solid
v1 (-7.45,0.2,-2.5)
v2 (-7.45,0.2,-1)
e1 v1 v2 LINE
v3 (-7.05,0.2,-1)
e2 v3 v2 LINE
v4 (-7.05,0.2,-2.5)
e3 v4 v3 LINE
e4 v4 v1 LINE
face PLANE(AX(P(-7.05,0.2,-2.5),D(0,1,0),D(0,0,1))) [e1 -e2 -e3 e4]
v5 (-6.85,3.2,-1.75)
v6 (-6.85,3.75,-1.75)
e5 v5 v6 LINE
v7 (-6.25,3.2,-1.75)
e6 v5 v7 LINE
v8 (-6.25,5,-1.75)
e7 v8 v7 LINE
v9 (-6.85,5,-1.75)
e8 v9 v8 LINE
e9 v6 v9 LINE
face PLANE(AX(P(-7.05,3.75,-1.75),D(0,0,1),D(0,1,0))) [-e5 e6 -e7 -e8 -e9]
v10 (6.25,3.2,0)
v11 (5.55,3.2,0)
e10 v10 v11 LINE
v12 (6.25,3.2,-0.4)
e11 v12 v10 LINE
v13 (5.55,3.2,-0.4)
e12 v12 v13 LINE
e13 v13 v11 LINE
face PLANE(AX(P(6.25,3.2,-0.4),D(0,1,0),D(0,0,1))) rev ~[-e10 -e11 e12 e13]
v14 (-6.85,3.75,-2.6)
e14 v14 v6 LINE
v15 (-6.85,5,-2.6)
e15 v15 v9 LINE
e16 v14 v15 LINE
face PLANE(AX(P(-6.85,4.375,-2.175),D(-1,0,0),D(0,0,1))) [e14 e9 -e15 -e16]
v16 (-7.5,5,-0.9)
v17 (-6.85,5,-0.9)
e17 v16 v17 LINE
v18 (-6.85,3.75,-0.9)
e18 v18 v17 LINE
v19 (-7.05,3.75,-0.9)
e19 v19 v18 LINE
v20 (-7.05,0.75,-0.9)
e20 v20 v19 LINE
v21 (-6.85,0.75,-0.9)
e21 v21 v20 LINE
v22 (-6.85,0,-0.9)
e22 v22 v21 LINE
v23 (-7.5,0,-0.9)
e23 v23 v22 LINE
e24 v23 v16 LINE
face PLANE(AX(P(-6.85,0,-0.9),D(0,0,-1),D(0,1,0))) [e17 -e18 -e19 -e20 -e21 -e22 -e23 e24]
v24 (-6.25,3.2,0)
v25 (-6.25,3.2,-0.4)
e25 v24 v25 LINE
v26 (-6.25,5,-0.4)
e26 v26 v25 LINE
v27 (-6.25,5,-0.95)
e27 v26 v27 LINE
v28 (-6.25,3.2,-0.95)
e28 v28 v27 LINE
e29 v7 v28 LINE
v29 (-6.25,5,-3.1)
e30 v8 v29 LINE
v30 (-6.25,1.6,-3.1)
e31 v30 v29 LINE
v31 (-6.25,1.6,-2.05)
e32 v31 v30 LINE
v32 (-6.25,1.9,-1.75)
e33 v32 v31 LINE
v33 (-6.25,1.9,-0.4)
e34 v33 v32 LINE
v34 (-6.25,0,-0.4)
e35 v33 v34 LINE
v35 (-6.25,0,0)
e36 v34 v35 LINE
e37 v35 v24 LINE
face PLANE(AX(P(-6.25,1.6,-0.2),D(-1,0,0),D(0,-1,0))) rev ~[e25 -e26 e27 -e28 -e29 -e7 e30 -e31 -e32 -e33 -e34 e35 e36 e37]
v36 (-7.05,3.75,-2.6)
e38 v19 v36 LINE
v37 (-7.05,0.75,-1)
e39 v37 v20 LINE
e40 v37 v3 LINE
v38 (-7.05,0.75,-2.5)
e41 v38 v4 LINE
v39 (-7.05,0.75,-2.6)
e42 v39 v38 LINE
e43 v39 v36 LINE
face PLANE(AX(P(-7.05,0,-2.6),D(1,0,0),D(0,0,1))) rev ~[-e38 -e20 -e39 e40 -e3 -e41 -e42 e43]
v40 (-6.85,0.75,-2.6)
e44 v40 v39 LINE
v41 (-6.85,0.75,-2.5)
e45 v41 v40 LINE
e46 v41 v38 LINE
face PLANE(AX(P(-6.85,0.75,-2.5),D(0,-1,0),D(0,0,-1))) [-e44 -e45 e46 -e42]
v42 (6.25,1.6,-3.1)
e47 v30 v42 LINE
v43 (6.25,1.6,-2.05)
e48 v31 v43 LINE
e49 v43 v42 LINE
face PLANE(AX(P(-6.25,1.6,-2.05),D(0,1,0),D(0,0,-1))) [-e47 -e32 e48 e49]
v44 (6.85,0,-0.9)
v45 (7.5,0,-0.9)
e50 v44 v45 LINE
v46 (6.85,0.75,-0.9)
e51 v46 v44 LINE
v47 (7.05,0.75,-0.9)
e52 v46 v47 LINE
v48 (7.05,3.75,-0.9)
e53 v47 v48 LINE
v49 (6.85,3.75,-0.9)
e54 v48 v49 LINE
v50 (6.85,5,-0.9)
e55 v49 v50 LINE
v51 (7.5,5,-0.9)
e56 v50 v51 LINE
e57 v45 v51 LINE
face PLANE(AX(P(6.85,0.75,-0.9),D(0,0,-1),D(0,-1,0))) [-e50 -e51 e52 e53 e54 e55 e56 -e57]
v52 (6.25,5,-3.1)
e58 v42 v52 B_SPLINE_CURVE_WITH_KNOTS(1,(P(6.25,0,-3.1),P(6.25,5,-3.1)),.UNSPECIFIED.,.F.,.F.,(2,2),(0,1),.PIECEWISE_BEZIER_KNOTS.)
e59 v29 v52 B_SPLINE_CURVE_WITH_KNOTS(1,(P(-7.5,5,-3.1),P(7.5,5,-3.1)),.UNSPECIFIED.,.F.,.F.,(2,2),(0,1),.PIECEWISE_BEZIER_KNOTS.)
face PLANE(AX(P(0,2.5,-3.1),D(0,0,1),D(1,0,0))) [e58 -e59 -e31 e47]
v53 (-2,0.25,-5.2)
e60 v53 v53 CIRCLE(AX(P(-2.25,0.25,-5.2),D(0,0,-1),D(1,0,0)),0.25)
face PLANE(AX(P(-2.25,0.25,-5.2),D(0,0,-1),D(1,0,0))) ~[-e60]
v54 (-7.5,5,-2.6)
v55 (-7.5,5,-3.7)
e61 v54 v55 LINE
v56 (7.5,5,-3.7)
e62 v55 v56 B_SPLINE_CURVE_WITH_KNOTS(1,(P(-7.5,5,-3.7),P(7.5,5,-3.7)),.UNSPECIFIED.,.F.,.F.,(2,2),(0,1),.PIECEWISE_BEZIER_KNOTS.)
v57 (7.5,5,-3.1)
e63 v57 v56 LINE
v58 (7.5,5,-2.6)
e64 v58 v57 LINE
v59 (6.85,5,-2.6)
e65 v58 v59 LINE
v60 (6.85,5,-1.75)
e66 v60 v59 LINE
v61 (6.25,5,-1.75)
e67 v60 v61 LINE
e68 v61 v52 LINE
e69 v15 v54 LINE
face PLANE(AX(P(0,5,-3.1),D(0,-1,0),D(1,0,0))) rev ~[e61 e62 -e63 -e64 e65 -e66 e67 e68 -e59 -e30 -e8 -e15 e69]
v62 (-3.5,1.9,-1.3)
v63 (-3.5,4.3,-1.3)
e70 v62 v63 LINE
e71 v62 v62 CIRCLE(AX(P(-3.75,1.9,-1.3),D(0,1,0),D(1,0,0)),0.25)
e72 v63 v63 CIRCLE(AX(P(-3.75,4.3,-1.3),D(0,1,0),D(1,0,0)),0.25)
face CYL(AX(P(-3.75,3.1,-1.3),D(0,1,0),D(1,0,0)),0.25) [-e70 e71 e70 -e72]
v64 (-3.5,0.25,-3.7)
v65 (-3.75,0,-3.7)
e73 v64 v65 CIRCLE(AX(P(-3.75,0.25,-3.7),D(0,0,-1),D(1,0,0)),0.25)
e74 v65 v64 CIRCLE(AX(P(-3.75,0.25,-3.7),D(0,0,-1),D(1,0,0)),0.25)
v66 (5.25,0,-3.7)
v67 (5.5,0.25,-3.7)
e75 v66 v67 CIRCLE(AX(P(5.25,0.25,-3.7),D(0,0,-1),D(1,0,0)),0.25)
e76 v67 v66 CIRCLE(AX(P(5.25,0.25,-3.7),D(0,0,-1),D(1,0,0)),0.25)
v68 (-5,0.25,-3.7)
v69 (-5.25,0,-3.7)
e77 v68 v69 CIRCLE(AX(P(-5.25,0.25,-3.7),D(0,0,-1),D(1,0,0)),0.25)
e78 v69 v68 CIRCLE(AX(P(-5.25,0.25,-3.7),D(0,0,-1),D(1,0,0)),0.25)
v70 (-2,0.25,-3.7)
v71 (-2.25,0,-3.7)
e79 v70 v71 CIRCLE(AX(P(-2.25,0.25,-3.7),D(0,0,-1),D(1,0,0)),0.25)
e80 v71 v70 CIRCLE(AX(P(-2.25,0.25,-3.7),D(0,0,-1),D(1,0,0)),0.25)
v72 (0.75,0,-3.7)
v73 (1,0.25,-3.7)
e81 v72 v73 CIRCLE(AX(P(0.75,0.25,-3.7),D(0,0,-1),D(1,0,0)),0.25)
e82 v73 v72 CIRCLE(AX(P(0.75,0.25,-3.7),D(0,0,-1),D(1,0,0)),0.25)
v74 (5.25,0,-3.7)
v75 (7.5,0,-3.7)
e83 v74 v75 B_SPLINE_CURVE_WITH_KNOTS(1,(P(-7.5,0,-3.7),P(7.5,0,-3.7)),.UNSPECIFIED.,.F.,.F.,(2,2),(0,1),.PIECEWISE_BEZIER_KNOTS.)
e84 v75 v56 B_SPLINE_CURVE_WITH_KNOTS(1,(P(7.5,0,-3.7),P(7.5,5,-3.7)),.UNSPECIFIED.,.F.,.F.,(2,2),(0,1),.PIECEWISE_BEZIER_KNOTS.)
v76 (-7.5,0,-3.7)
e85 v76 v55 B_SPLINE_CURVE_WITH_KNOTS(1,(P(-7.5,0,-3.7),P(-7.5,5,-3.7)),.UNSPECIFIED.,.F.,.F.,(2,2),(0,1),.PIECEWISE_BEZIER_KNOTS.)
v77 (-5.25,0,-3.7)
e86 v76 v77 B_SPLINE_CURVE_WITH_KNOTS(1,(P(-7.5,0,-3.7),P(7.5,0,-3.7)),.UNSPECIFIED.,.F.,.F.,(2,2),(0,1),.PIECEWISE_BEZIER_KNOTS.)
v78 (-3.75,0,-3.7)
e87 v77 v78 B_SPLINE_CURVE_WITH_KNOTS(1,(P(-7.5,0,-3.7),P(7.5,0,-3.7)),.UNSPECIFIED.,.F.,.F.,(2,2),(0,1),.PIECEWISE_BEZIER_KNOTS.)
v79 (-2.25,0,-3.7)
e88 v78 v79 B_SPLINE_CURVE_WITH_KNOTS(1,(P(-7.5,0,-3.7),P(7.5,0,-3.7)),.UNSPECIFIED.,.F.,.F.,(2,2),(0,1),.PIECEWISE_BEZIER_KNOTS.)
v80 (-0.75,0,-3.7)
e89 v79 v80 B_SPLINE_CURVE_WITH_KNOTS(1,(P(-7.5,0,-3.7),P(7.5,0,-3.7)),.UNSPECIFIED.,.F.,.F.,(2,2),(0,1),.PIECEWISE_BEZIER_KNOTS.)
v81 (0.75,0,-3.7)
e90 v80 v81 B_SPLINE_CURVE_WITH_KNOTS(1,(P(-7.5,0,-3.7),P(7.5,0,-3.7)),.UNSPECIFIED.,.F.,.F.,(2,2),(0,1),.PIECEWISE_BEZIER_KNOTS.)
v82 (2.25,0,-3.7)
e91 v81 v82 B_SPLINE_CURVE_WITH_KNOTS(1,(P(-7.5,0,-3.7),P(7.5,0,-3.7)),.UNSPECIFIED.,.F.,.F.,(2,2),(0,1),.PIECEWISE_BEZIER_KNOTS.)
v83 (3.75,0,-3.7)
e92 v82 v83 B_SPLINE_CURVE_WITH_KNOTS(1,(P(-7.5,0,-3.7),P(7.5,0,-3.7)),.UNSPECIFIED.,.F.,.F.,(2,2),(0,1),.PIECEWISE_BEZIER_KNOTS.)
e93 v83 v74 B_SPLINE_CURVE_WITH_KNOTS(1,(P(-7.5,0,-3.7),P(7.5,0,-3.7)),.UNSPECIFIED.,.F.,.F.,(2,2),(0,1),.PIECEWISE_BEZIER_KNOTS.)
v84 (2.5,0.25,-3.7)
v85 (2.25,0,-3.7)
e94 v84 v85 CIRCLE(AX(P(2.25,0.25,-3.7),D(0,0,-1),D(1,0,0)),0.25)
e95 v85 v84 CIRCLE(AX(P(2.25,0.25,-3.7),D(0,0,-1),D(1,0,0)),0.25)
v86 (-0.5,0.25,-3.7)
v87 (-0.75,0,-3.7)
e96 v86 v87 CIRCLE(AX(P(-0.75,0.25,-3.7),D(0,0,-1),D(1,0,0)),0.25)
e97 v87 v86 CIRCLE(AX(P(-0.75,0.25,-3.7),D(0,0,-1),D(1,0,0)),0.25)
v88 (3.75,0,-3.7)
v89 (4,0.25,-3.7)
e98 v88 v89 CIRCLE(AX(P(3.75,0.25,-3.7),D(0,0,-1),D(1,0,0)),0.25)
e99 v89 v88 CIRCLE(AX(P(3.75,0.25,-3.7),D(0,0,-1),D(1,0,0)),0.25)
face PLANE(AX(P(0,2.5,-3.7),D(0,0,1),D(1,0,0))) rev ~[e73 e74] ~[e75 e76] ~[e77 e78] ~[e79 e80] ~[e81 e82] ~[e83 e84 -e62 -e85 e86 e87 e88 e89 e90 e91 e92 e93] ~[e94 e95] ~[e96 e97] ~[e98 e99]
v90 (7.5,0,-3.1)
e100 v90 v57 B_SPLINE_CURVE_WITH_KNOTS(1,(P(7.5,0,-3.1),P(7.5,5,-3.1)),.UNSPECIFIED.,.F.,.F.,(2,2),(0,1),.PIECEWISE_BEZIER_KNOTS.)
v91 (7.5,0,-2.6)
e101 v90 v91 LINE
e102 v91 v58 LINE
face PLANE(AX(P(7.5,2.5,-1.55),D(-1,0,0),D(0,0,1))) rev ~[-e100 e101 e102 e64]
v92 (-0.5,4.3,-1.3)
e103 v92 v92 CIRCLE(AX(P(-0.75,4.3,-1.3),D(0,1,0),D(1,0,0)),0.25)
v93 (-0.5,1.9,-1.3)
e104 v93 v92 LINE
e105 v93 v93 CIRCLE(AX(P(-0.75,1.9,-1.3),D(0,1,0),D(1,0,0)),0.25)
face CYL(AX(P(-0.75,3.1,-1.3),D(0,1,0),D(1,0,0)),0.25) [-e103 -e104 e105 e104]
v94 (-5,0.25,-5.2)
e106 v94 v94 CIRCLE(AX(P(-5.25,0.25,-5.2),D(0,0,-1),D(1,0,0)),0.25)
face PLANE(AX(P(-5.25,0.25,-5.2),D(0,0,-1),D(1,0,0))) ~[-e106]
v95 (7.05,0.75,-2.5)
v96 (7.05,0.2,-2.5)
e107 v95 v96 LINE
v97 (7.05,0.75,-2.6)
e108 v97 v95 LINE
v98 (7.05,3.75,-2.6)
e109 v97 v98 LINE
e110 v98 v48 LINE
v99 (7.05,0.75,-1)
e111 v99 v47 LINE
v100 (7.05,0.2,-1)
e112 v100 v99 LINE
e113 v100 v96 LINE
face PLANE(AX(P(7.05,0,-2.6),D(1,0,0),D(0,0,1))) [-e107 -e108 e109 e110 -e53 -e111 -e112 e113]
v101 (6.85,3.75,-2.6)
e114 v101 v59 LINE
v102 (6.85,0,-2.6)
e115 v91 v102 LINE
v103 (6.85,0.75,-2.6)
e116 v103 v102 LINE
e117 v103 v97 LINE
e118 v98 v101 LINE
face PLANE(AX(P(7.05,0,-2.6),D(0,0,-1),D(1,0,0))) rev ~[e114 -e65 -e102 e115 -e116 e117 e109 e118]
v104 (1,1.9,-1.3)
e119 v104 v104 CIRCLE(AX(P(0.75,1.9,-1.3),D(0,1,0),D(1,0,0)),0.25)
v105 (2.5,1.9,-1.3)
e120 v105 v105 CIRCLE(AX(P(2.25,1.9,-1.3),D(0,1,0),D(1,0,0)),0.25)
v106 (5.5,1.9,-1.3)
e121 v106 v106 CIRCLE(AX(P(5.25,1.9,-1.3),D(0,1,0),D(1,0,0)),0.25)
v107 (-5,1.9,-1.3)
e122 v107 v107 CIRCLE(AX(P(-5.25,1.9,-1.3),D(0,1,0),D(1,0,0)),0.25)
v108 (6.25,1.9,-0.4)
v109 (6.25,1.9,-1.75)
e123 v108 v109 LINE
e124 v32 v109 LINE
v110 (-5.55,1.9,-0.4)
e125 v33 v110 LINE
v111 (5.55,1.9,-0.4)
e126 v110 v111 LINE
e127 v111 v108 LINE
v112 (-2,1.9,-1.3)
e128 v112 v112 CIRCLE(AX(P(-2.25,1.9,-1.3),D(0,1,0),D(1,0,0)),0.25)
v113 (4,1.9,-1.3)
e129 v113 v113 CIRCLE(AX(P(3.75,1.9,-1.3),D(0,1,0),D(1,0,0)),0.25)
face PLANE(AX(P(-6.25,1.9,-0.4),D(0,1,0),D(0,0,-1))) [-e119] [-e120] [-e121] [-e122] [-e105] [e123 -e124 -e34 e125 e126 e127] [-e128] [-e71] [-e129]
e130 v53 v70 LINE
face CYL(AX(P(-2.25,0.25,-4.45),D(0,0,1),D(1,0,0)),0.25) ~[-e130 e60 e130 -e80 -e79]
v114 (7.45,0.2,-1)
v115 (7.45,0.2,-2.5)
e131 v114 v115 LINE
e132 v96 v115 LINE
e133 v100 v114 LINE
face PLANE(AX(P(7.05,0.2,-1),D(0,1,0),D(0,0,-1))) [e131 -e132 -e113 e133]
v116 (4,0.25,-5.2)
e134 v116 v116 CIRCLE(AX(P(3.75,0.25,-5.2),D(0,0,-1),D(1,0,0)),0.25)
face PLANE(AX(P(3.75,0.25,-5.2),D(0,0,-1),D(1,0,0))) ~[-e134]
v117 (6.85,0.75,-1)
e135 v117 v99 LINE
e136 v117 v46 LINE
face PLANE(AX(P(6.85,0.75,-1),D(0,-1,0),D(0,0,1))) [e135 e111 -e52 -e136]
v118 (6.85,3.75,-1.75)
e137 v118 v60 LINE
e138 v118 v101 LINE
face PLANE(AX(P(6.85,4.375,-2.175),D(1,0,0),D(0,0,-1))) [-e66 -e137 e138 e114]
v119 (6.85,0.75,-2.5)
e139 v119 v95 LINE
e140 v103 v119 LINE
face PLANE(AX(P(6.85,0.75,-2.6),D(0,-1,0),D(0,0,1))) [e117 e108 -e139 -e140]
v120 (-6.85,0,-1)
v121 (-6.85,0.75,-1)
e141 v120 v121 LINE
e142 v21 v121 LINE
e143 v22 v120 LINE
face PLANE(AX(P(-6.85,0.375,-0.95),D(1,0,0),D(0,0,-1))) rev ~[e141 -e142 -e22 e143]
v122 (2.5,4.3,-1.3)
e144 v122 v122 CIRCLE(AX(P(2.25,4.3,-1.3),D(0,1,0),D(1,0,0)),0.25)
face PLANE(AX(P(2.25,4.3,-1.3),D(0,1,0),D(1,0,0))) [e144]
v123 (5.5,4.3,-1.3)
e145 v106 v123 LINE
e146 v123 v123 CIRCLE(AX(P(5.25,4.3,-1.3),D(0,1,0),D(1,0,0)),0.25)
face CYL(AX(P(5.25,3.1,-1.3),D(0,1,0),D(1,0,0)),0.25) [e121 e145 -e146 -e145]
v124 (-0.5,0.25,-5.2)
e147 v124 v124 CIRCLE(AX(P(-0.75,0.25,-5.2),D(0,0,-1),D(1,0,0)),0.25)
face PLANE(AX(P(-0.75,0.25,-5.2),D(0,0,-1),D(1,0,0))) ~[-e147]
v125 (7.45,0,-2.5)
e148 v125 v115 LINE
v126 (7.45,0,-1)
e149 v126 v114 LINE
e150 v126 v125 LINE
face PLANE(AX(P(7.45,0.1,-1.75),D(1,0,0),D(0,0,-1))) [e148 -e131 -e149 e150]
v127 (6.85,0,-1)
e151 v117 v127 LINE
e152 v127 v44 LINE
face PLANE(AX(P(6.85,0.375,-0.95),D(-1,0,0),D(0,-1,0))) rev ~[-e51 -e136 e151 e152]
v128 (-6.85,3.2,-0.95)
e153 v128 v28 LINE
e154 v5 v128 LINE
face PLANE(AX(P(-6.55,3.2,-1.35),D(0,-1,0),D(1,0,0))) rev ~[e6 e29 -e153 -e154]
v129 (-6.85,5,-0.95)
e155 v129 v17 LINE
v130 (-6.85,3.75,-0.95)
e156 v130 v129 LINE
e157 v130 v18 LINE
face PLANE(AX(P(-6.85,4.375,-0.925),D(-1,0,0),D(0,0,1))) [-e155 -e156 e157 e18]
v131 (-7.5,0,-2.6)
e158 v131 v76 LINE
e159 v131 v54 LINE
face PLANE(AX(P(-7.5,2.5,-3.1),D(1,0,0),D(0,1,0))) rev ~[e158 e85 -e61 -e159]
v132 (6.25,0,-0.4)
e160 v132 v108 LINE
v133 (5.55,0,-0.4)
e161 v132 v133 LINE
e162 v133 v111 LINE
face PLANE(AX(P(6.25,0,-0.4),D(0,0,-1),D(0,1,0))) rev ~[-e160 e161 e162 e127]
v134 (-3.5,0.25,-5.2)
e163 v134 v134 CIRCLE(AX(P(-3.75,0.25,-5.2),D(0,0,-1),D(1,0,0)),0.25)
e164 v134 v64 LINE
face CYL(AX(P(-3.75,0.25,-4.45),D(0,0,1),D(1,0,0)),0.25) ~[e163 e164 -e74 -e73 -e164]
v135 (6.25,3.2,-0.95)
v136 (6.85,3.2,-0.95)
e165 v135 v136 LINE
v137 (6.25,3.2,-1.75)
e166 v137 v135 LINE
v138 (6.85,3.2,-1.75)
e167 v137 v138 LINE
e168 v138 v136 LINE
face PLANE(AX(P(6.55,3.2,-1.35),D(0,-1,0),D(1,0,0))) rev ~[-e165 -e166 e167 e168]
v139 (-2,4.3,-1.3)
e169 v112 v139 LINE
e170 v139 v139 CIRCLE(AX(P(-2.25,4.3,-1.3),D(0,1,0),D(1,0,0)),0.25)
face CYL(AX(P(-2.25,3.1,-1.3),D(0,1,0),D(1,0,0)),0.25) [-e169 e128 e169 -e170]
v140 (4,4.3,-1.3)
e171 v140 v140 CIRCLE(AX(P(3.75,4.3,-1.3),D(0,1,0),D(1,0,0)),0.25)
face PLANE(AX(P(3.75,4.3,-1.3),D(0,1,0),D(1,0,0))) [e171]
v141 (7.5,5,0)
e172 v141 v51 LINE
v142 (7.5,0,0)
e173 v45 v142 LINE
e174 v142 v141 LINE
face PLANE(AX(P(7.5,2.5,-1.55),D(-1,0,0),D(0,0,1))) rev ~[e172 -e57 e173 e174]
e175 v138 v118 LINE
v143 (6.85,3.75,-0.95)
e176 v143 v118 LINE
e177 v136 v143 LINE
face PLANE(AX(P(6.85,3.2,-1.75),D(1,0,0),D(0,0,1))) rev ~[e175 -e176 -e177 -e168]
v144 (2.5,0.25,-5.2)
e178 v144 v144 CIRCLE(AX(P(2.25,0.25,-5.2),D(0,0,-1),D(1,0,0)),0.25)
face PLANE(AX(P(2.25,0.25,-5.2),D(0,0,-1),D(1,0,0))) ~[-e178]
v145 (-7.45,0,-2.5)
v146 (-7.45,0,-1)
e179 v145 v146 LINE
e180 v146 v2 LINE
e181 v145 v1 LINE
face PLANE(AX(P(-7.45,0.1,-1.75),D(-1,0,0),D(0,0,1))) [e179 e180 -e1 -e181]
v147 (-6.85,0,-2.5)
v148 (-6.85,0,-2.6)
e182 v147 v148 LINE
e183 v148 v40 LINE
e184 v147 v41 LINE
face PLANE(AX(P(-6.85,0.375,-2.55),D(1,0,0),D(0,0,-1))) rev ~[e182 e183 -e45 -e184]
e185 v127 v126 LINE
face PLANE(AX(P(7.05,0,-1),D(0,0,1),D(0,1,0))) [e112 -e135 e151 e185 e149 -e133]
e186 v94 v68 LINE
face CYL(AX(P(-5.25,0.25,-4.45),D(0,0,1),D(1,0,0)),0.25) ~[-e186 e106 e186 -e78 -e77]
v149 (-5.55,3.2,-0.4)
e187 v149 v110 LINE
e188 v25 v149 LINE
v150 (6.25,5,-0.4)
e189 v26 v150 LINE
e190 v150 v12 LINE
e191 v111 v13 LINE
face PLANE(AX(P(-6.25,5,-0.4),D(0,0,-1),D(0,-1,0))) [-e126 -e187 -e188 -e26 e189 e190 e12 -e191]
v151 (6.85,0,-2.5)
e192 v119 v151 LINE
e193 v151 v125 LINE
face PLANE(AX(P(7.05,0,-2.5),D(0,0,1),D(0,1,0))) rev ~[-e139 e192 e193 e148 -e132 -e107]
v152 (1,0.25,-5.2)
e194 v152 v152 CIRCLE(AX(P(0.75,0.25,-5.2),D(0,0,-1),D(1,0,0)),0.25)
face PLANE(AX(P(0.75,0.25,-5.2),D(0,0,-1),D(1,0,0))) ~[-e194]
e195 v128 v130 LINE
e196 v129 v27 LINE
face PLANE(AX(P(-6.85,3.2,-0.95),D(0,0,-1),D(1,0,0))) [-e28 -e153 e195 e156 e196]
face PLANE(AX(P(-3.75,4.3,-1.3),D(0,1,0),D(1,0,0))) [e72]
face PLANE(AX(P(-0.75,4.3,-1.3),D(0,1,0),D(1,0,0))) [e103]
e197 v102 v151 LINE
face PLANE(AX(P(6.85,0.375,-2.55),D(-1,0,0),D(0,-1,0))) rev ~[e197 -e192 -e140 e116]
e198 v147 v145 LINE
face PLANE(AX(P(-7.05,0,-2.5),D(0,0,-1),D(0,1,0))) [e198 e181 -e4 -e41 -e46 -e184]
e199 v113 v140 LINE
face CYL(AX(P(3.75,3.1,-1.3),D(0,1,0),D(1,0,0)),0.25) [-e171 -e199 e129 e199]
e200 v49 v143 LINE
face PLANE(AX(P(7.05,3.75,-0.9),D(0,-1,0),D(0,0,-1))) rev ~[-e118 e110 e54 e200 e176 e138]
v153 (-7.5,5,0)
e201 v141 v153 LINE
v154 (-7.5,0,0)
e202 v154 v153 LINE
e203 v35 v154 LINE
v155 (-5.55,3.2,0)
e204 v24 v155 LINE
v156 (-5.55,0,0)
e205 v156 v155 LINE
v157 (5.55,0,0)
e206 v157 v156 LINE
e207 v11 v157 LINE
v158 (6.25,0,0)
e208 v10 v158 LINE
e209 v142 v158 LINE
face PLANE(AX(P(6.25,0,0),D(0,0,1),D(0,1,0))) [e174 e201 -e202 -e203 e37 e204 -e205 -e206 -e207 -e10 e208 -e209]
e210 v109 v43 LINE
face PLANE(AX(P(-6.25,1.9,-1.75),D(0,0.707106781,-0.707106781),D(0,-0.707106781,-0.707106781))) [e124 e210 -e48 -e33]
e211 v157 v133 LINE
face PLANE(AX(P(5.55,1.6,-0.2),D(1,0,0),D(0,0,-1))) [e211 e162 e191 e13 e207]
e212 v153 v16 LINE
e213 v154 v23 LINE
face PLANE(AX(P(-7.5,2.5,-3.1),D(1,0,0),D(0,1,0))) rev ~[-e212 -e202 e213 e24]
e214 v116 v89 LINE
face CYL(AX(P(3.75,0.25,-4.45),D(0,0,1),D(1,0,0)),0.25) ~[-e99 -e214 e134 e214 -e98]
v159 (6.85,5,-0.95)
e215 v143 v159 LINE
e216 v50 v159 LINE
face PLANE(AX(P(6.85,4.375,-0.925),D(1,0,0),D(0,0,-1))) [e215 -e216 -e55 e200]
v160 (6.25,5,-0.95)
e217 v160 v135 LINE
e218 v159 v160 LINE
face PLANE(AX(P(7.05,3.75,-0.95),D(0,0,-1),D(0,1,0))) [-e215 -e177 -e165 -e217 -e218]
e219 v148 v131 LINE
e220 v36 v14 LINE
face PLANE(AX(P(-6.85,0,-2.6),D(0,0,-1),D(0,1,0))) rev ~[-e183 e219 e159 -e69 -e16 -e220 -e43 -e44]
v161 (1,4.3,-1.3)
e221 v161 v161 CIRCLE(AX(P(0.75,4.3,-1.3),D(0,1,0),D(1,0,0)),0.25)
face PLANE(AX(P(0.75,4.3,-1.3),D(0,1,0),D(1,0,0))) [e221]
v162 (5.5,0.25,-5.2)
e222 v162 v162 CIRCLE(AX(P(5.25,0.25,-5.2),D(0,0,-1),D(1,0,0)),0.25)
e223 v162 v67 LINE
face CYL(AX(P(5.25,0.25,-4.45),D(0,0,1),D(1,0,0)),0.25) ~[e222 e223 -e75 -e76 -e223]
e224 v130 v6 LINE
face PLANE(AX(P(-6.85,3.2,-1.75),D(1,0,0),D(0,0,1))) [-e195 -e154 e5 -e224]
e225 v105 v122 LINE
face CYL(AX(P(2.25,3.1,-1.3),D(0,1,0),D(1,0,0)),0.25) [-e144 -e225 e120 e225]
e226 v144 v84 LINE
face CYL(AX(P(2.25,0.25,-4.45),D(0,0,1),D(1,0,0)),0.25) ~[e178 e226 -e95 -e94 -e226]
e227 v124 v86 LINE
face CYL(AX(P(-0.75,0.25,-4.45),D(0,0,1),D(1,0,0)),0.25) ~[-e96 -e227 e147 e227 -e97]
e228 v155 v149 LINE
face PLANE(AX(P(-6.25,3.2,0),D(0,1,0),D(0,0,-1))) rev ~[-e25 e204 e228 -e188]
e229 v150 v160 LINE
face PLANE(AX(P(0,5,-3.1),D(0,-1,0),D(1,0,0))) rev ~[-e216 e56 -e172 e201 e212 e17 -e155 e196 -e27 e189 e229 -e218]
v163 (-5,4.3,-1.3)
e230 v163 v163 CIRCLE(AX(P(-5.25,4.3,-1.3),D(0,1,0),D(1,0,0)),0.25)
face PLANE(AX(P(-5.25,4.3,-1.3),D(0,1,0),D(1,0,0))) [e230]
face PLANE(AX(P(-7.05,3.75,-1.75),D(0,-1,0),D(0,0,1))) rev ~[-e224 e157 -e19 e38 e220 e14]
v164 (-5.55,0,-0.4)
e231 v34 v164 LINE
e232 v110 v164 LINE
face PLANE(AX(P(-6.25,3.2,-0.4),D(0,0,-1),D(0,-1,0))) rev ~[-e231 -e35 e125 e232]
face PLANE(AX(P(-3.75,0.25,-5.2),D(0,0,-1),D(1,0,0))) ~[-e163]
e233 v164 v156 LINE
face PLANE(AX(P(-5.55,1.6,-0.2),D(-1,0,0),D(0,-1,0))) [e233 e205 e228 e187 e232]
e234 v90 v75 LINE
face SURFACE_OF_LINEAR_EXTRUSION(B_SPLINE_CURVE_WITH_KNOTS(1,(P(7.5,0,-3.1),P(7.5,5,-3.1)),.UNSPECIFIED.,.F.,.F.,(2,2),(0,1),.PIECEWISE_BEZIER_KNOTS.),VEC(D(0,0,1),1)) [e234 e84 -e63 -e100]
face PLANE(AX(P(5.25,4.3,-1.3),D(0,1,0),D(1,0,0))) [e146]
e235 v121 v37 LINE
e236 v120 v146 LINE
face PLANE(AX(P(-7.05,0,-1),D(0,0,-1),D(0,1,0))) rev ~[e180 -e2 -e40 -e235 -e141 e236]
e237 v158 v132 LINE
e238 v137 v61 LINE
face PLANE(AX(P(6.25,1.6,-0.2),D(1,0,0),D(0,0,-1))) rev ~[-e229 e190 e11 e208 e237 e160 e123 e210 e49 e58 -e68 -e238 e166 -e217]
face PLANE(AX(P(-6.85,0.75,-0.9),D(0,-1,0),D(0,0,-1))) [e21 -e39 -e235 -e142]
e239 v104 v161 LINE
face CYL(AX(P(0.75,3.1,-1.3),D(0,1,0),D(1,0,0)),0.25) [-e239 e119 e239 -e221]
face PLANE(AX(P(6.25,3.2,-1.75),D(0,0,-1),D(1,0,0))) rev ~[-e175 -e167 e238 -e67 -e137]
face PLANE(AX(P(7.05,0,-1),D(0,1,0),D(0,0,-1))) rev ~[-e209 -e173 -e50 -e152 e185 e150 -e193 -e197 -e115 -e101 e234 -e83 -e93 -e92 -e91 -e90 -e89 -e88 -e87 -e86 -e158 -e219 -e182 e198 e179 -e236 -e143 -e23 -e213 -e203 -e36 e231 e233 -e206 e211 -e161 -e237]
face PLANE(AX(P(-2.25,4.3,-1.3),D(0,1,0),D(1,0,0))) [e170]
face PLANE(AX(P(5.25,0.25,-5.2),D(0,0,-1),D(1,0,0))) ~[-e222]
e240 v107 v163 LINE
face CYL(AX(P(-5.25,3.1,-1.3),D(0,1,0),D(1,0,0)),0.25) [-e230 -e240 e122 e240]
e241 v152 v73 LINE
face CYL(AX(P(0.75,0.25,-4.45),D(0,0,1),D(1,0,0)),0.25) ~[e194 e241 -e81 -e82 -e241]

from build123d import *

# Parameters (mm, degrees)
SKETCH1_W           = 1.25
SKETCH1_H           = 5
BOSS_EXTRUDE1_DEPTH = 3.1
BOSS_EXTRUDE2_DEPTH = 12.5
BOSS_EXTRUDE3_DEPTH = 1.250000167
CUT_EXTRUDE1_DEPTH  = 0.7
CUT_EXTRUDE2_DEPTH  = 0.7
BOSS_EXTRUDE4_DEPTH = 0.6
SKETCH7_W           = 0.45
SKETCH7_H           = 1.7
CUT_EXTRUDE3_DEPTH  = 6.0000001
CUT_EXTRUDE4_REACH  = 16.55
SKETCH8_W           = 0.8
SKETCH8_H           = 1.25
SKETCH9_W           = 0.85
SKETCH9_H           = 1.25
CUT_EXTRUDE5_DEPTH  = 0.2
SKETCH10_W          = 0.05
SKETCH10_H          = 1.25
CUT_EXTRUDE6_DEPTH  = 0.2
CUT_EXTRUDE7_REACH  = 3.8
SKETCH12_W          = 0.6
SKETCH12_H          = 0.8
SKETCH13_W          = 0.45
SKETCH13_H          = 1.7
CUT_EXTRUDE8_DEPTH  = 6.0000001
SKETCH14_W          = 0.8
SKETCH14_H          = 1.25
CUT_EXTRUDE9_DEPTH  = 15.5500001
SKETCH15_W          = 0.85
SKETCH15_H          = 1.25
CUT_EXTRUDE10_DEPTH = 0.2
CUT_EXTRUDE11_REACH = 2.65
SKETCH17_W          = 0.1
SKETCH17_H          = 0.75
SKETCH18_W          = 1.5
SKETCH18_H          = 0.2
BOSS_EXTRUDE5_DEPTH = 0.4
CUT_EXTRUDE12_REACH = 2.65
SKETCH20_W          = 0.1
SKETCH20_H          = 0.75
CUT_EXTRUDE13_REACH = 2.65
SKETCH22_W          = 0.75
SKETCH22_H          = 0.1
SKETCH23_W          = 1.5
SKETCH23_H          = 0.2
BOSS_EXTRUDE6_DEPTH = 0.4
CUT_EXTRUDE14_REACH = 2.65
SKETCH25_W          = 0.75
SKETCH25_H          = 0.1
SKETCH26_W          = 0.05
SKETCH26_H          = 1.25
CUT_EXTRUDE15_DEPTH = 0.2
CUT_EXTRUDE16_REACH = 3.8
SKETCH28_W          = 0.6
SKETCH28_H          = 0.8
SKETCH29_W          = 0.25
SKETCH29_H          = 2.4
SKETCH30_W          = 0.25
SKETCH30_H          = 2.4
SKETCH31_W          = 0.25
SKETCH31_H          = 2.4
SKETCH32_W          = 0.25
SKETCH32_H          = 2.4
SKETCH33_W          = 0.25
SKETCH33_H          = 2.4
SKETCH34_W          = 0.25
SKETCH34_H          = 2.4
SKETCH35_W          = 0.25
SKETCH35_H          = 2.4
SKETCH36_W          = 0.25
SKETCH36_H          = 2.4
SKETCH37_W          = 0.25
SKETCH37_H          = 1.5
SKETCH38_W          = 0.25
SKETCH38_H          = 1.5
SKETCH39_W          = 0.25
SKETCH39_H          = 1.5
SKETCH40_W          = 0.25
SKETCH40_H          = 1.5
SKETCH41_W          = 0.25
SKETCH41_H          = 1.5
SKETCH42_W          = 0.25
SKETCH42_H          = 1.5
SKETCH43_W          = 0.25
SKETCH43_H          = 1.5
SKETCH44_W          = 0.25
SKETCH44_H          = 1.5


with BuildPart() as part:
    # Sketch1 → Boss-Extrude1 (new body)
    with BuildSketch(Plane.XY):
        with Locations((-6.875, 2.5)):
            Rectangle(SKETCH1_W, SKETCH1_H)
    extrude(amount=-BOSS_EXTRUDE1_DEPTH)

    # Sketch2 → Boss-Extrude2 (add)
    with BuildSketch(Plane(origin=(-6.25, 0, 0), x_dir=(0, 0, -1), z_dir=(1, 0, 0))):
        with BuildLine():
            Line((0, 5), (0.4, 5))
            Line((0.4, 5), (0.4, 1.9))
            Line((0.4, 1.9), (1.75, 1.9))
            Line((1.75, 1.9), (2.05, 1.6))
            Line((2.05, 1.6), (3.1, 1.6))
            add(Edge.make_bspline(
                [(3.1, 0), (3.1, 1.6)],
                knots=[0, 0, 0.32, 0.32], degree=1))
            Line((3.1, 0), (0, 0))
            Line((0, 0), (0, 5))
        make_face()
    extrude(amount=BOSS_EXTRUDE2_DEPTH)

    # Sketch3 → Boss-Extrude3 (add)
    with BuildSketch(Plane(origin=(6.25, 0, 0), x_dir=(0, 0, -1), z_dir=(1, 0, 0))):
        with BuildLine():
            Line((3.1, 0), (0, 0))
            Line((0, 0), (0, 5))
            Line((0, 5), (3.1, 5))
            add(Edge.make_bspline(
                [(3.1, 0), (3.1, 5)],
                knots=[0, 0, 1, 1], degree=1))
        make_face()
    extrude(amount=BOSS_EXTRUDE3_DEPTH)

    # Sketch4 → Cut-Extrude1 (cut)
    with BuildSketch(Plane(origin=(6.25, 0, 0), x_dir=(0, 0, -1), z_dir=(1, 0, 0))):
        Polygon((0.4, 1.9), (0.4, 3.2), (0, 3.2), (0, 0), (0.4, 0), align=None)
    extrude(amount=-CUT_EXTRUDE1_DEPTH, mode=Mode.SUBTRACT)

    # Sketch5 → Cut-Extrude2 (cut)
    with BuildSketch(Plane(origin=(-6.25, 0, 0), x_dir=(0, -1, 0), z_dir=(-1, 0, 0))):
        Polygon((-1.9, -0.4), (0, -0.4), (0, 0), (-3.2, 0), (-3.2, -0.4), align=None)
    extrude(amount=-CUT_EXTRUDE2_DEPTH, mode=Mode.SUBTRACT)

    # Sketch6 → Boss-Extrude4 (add)
    with BuildSketch(Plane(origin=(0, 0, -3.1), x_dir=(-1, 0, 0), z_dir=(0, 0, -1))):
        with BuildLine():
            add(Edge.make_bspline(
                [(7.5, 0), (-7.5, 0)],
                knots=[0, 0, 1, 1], degree=1))
            add(Edge.make_bspline(
                [(-7.5, 0), (-7.5, 5)],
                knots=[0, 0, 1, 1], degree=1))
            add(Edge.make_bspline(
                [(7.5, 5), (-7.5, 5)],
                knots=[0, 0, 1, 1], degree=1))
            add(Edge.make_bspline(
                [(7.5, 0), (7.5, 5)],
                knots=[0, 0, 1, 1], degree=1))
        make_face()
    extrude(amount=BOSS_EXTRUDE4_DEPTH)

    # Sketch7 → Cut-Extrude3 (cut, through all)
    with BuildSketch(Plane.XZ):
        with Locations((-7.275, -1.75)):
            Rectangle(SKETCH7_W, SKETCH7_H)
    extrude(amount=-CUT_EXTRUDE3_DEPTH, mode=Mode.SUBTRACT)

    # Sketch8 → Cut-Extrude4 (cut, up to next)
    with BuildSketch(Plane.ZY.offset(7.05), mode=Mode.PRIVATE) as cut_extrude4_sk1:
        with Locations((-1.35, 4.375)):
            Rectangle(SKETCH8_W, SKETCH8_H)
    cut_extrude4_tool1 = extrude(cut_extrude4_sk1.sketch, amount=-CUT_EXTRUDE4_REACH, mode=Mode.PRIVATE) & part.part
    add(cut_extrude4_tool1.solids().sort_by_distance((-7.05, 4.375, -1.35))[0], mode=Mode.SUBTRACT)

    # Sketch9 → Cut-Extrude5 (cut)
    with BuildSketch(Plane.ZY.offset(7.05)):
        with Locations((-2.175, 4.375)):
            Rectangle(SKETCH9_W, SKETCH9_H)
    extrude(amount=-CUT_EXTRUDE5_DEPTH, mode=Mode.SUBTRACT)

    # Sketch10 → Cut-Extrude6 (cut)
    with BuildSketch(Plane.ZY.offset(7.05)):
        with Locations((-0.925, 4.375)):
            Rectangle(SKETCH10_W, SKETCH10_H)
    extrude(amount=-CUT_EXTRUDE6_DEPTH, mode=Mode.SUBTRACT)

    # Sketch12 → Cut-Extrude7 (cut, up to next)
    with BuildSketch(Plane.XZ.offset(-3.2), mode=Mode.PRIVATE) as cut_extrude7_sk1:
        with Locations((-6.55, -1.35)):
            Rectangle(SKETCH12_W, SKETCH12_H)
    cut_extrude7_tool1 = extrude(cut_extrude7_sk1.sketch, amount=-CUT_EXTRUDE7_REACH, mode=Mode.PRIVATE) & part.part
    add(cut_extrude7_tool1.solids().sort_by_distance((-6.55, 3.2, -1.35))[0], mode=Mode.SUBTRACT)

    # Sketch13 → Cut-Extrude8 (cut, through all)
    with BuildSketch(Plane.XZ):
        with Locations((7.275, -1.75)):
            Rectangle(SKETCH13_W, SKETCH13_H)
    extrude(amount=-CUT_EXTRUDE8_DEPTH, mode=Mode.SUBTRACT)

    # Sketch14 → Cut-Extrude9 (cut, through all)
    with BuildSketch(Plane(origin=(7.05, 0, 0), x_dir=(0, 0, -1), z_dir=(1, 0, 0))):
        with Locations((1.35, 4.375)):
            Rectangle(SKETCH14_W, SKETCH14_H)
    extrude(amount=-CUT_EXTRUDE9_DEPTH, mode=Mode.SUBTRACT)

    # Sketch15 → Cut-Extrude10 (cut)
    with BuildSketch(Plane(origin=(7.05, 0, 0), x_dir=(0, 0, -1), z_dir=(1, 0, 0))):
        with Locations((2.175, 4.375)):
            Rectangle(SKETCH15_W, SKETCH15_H)
    extrude(amount=-CUT_EXTRUDE10_DEPTH, mode=Mode.SUBTRACT)

    # Sketch17 → Cut-Extrude11 (cut, up to next)
    with BuildSketch(Plane(origin=(-6.85, 0, 0), x_dir=(0, 0, -1), z_dir=(1, 0, 0)), mode=Mode.PRIVATE) as cut_extrude11_sk1:
        with Locations((0.95, 0.375)):
            Rectangle(SKETCH17_W, SKETCH17_H)
    cut_extrude11_tool1 = extrude(cut_extrude11_sk1.sketch, amount=-CUT_EXTRUDE11_REACH, mode=Mode.PRIVATE) & part.part
    add(cut_extrude11_tool1.solids().sort_by_distance((-6.85, 0.375, -0.95))[0], mode=Mode.SUBTRACT)

    # Sketch18 → Boss-Extrude5 (add)
    with BuildSketch(Plane.ZY.offset(7.05)):
        with Locations((-1.75, 0.1)):
            Rectangle(SKETCH18_W, SKETCH18_H)
    extrude(amount=BOSS_EXTRUDE5_DEPTH)

    # Sketch20 → Cut-Extrude12 (cut, up to next)
    with BuildSketch(Plane(origin=(-6.85, 0, 0), x_dir=(0, 0, -1), z_dir=(1, 0, 0)), mode=Mode.PRIVATE) as cut_extrude12_sk1:
        with Locations((2.55, 0.375)):
            Rectangle(SKETCH20_W, SKETCH20_H)
    cut_extrude12_tool1 = extrude(cut_extrude12_sk1.sketch, amount=-CUT_EXTRUDE12_REACH, mode=Mode.PRIVATE) & part.part
    add(cut_extrude12_tool1.solids().sort_by_distance((-6.85, 0.375, -2.55))[0], mode=Mode.SUBTRACT)

    # Sketch22 → Cut-Extrude13 (cut, up to next)
    with BuildSketch(Plane(origin=(6.85, 0, 0), x_dir=(0, -1, 0), z_dir=(-1, 0, 0)), mode=Mode.PRIVATE) as cut_extrude13_sk1:
        with Locations((-0.375, -2.55)):
            Rectangle(SKETCH22_W, SKETCH22_H)
    cut_extrude13_tool1 = extrude(cut_extrude13_sk1.sketch, amount=-CUT_EXTRUDE13_REACH, mode=Mode.PRIVATE) & part.part
    add(cut_extrude13_tool1.solids().sort_by_distance((6.85, 0.375, -2.55))[0], mode=Mode.SUBTRACT)

    # Sketch23 → Boss-Extrude6 (add)
    with BuildSketch(Plane(origin=(7.05, 0, 0), x_dir=(0, 0, -1), z_dir=(1, 0, 0))):
        with Locations((1.75, 0.1)):
            Rectangle(SKETCH23_W, SKETCH23_H)
    extrude(amount=BOSS_EXTRUDE6_DEPTH)

    # Sketch25 → Cut-Extrude14 (cut, up to next)
    with BuildSketch(Plane(origin=(6.85, 0, 0), x_dir=(0, -1, 0), z_dir=(-1, 0, 0)), mode=Mode.PRIVATE) as cut_extrude14_sk1:
        with Locations((-0.375, -0.95)):
            Rectangle(SKETCH25_W, SKETCH25_H)
    cut_extrude14_tool1 = extrude(cut_extrude14_sk1.sketch, amount=-CUT_EXTRUDE14_REACH, mode=Mode.PRIVATE) & part.part
    add(cut_extrude14_tool1.solids().sort_by_distance((6.85, 0.375, -0.95))[0], mode=Mode.SUBTRACT)

    # Sketch26 → Cut-Extrude15 (cut)
    with BuildSketch(Plane(origin=(7.05, 0, 0), x_dir=(0, 0, -1), z_dir=(1, 0, 0))):
        with Locations((0.925, 4.375)):
            Rectangle(SKETCH26_W, SKETCH26_H)
    extrude(amount=-CUT_EXTRUDE15_DEPTH, mode=Mode.SUBTRACT)

    # Sketch28 → Cut-Extrude16 (cut, up to next)
    with BuildSketch(Plane.XZ.offset(-3.2), mode=Mode.PRIVATE) as cut_extrude16_sk1:
        with Locations((6.55, -1.35)):
            Rectangle(SKETCH28_W, SKETCH28_H)
    cut_extrude16_tool1 = extrude(cut_extrude16_sk1.sketch, amount=-CUT_EXTRUDE16_REACH, mode=Mode.PRIVATE) & part.part
    add(cut_extrude16_tool1.solids().sort_by_distance((6.55, 3.2, -1.35))[0], mode=Mode.SUBTRACT)

    # Sketch29 → Revolve1 (revolve)
    with BuildSketch(Plane(origin=(0, 0, -1.3), x_dir=(-1, 0, 0), z_dir=(0, 0, -1))):
        with Locations((-5.375, 3.1)):
            Rectangle(SKETCH29_W, SKETCH29_H)
    revolve(axis=Axis((5.25, 1.9, -1.3), (0, 1, 0)))

    # Sketch30 → Revolve2 (revolve)
    with BuildSketch(Plane(origin=(0, 0, -1.3), x_dir=(-1, 0, 0), z_dir=(0, 0, -1))):
        with Locations((-3.875, 3.1)):
            Rectangle(SKETCH30_W, SKETCH30_H)
    revolve(axis=Axis((3.75, 1.9, -1.3), (0, 1, 0)))

    # Sketch31 → Revolve3 (revolve)
    with BuildSketch(Plane(origin=(0, 0, -1.3), x_dir=(-1, 0, 0), z_dir=(0, 0, -1))):
        with Locations((-2.375, 3.1)):
            Rectangle(SKETCH31_W, SKETCH31_H)
    revolve(axis=Axis((2.25, 1.9, -1.3), (0, 1, 0)))

    # Sketch32 → Revolve4 (revolve)
    with BuildSketch(Plane(origin=(0, 0, -1.3), x_dir=(-1, 0, 0), z_dir=(0, 0, -1))):
        with Locations((-0.875, 3.1)):
            Rectangle(SKETCH32_W, SKETCH32_H)
    revolve(axis=Axis((0.75, 1.9, -1.3), (0, 1, 0)))

    # Sketch33 → Revolve5 (revolve)
    with BuildSketch(Plane(origin=(0, 0, -1.3), x_dir=(-1, 0, 0), z_dir=(0, 0, -1))):
        with Locations((0.625, 3.1)):
            Rectangle(SKETCH33_W, SKETCH33_H)
    revolve(axis=Axis((-0.75, 1.9, -1.3), (0, 1, 0)))

    # Sketch34 → Revolve6 (revolve)
    with BuildSketch(Plane(origin=(0, 0, -1.3), x_dir=(-1, 0, 0), z_dir=(0, 0, -1))):
        with Locations((2.125, 3.1)):
            Rectangle(SKETCH34_W, SKETCH34_H)
    revolve(axis=Axis((-2.25, 1.9, -1.3), (0, 1, 0)))

    # Sketch35 → Revolve7 (revolve)
    with BuildSketch(Plane(origin=(0, 0, -1.3), x_dir=(-1, 0, 0), z_dir=(0, 0, -1))):
        with Locations((3.625, 3.1)):
            Rectangle(SKETCH35_W, SKETCH35_H)
    revolve(axis=Axis((-3.75, 1.9, -1.3), (0, 1, 0)))

    # Sketch36 → Revolve8 (revolve)
    with BuildSketch(Plane(origin=(0, 0, -1.3), x_dir=(-1, 0, 0), z_dir=(0, 0, -1))):
        with Locations((5.125, 3.1)):
            Rectangle(SKETCH36_W, SKETCH36_H)
    revolve(axis=Axis((-5.25, 1.9, -1.3), (0, 1, 0)))

    # Sketch37 → Revolve9 (revolve)
    with BuildSketch(Plane.XZ.offset(-0.25)):
        with Locations((5.375, -4.45)):
            Rectangle(SKETCH37_W, SKETCH37_H)
    revolve(axis=Axis((5.25, 0.25, -3.7), (0, 0, -1)))

    # Sketch38 → Revolve10 (revolve)
    with BuildSketch(Plane.XZ.offset(-0.25)):
        with Locations((3.875, -4.45)):
            Rectangle(SKETCH38_W, SKETCH38_H)
    revolve(axis=Axis((3.75, 0.25, -3.7), (0, 0, -1)))

    # Sketch39 → Revolve11 (revolve)
    with BuildSketch(Plane.XZ.offset(-0.25)):
        with Locations((2.375, -4.45)):
            Rectangle(SKETCH39_W, SKETCH39_H)
    revolve(axis=Axis((2.25, 0.25, -3.7), (0, 0, -1)))

    # Sketch40 → Revolve12 (revolve)
    with BuildSketch(Plane.XZ.offset(-0.25)):
        with Locations((0.875, -4.45)):
            Rectangle(SKETCH40_W, SKETCH40_H)
    revolve(axis=Axis((0.75, 0.25, -3.7), (0, 0, -1)))

    # Sketch41 → Revolve13 (revolve)
    with BuildSketch(Plane.XZ.offset(-0.25)):
        with Locations((-0.625, -4.45)):
            Rectangle(SKETCH41_W, SKETCH41_H)
    revolve(axis=Axis((-0.75, 0.25, -3.7), (0, 0, -1)))

    # Sketch42 → Revolve14 (revolve)
    with BuildSketch(Plane.XZ.offset(-0.25)):
        with Locations((-2.125, -4.45)):
            Rectangle(SKETCH42_W, SKETCH42_H)
    revolve(axis=Axis((-2.25, 0.25, -3.7), (0, 0, -1)))

    # Sketch43 → Revolve15 (revolve)
    with BuildSketch(Plane.XZ.offset(-0.25)):
        with Locations((-3.625, -4.45)):
            Rectangle(SKETCH43_W, SKETCH43_H)
    revolve(axis=Axis((-3.75, 0.25, -3.7), (0, 0, -1)))

    # Sketch44 → Revolve16 (revolve)
    with BuildSketch(Plane.XZ.offset(-0.25)):
        with Locations((-5.125, -4.45)):
            Rectangle(SKETCH44_W, SKETCH44_H)
    revolve(axis=Axis((-5.25, 0.25, -3.7), (0, 0, -1)))


solid = part.part
